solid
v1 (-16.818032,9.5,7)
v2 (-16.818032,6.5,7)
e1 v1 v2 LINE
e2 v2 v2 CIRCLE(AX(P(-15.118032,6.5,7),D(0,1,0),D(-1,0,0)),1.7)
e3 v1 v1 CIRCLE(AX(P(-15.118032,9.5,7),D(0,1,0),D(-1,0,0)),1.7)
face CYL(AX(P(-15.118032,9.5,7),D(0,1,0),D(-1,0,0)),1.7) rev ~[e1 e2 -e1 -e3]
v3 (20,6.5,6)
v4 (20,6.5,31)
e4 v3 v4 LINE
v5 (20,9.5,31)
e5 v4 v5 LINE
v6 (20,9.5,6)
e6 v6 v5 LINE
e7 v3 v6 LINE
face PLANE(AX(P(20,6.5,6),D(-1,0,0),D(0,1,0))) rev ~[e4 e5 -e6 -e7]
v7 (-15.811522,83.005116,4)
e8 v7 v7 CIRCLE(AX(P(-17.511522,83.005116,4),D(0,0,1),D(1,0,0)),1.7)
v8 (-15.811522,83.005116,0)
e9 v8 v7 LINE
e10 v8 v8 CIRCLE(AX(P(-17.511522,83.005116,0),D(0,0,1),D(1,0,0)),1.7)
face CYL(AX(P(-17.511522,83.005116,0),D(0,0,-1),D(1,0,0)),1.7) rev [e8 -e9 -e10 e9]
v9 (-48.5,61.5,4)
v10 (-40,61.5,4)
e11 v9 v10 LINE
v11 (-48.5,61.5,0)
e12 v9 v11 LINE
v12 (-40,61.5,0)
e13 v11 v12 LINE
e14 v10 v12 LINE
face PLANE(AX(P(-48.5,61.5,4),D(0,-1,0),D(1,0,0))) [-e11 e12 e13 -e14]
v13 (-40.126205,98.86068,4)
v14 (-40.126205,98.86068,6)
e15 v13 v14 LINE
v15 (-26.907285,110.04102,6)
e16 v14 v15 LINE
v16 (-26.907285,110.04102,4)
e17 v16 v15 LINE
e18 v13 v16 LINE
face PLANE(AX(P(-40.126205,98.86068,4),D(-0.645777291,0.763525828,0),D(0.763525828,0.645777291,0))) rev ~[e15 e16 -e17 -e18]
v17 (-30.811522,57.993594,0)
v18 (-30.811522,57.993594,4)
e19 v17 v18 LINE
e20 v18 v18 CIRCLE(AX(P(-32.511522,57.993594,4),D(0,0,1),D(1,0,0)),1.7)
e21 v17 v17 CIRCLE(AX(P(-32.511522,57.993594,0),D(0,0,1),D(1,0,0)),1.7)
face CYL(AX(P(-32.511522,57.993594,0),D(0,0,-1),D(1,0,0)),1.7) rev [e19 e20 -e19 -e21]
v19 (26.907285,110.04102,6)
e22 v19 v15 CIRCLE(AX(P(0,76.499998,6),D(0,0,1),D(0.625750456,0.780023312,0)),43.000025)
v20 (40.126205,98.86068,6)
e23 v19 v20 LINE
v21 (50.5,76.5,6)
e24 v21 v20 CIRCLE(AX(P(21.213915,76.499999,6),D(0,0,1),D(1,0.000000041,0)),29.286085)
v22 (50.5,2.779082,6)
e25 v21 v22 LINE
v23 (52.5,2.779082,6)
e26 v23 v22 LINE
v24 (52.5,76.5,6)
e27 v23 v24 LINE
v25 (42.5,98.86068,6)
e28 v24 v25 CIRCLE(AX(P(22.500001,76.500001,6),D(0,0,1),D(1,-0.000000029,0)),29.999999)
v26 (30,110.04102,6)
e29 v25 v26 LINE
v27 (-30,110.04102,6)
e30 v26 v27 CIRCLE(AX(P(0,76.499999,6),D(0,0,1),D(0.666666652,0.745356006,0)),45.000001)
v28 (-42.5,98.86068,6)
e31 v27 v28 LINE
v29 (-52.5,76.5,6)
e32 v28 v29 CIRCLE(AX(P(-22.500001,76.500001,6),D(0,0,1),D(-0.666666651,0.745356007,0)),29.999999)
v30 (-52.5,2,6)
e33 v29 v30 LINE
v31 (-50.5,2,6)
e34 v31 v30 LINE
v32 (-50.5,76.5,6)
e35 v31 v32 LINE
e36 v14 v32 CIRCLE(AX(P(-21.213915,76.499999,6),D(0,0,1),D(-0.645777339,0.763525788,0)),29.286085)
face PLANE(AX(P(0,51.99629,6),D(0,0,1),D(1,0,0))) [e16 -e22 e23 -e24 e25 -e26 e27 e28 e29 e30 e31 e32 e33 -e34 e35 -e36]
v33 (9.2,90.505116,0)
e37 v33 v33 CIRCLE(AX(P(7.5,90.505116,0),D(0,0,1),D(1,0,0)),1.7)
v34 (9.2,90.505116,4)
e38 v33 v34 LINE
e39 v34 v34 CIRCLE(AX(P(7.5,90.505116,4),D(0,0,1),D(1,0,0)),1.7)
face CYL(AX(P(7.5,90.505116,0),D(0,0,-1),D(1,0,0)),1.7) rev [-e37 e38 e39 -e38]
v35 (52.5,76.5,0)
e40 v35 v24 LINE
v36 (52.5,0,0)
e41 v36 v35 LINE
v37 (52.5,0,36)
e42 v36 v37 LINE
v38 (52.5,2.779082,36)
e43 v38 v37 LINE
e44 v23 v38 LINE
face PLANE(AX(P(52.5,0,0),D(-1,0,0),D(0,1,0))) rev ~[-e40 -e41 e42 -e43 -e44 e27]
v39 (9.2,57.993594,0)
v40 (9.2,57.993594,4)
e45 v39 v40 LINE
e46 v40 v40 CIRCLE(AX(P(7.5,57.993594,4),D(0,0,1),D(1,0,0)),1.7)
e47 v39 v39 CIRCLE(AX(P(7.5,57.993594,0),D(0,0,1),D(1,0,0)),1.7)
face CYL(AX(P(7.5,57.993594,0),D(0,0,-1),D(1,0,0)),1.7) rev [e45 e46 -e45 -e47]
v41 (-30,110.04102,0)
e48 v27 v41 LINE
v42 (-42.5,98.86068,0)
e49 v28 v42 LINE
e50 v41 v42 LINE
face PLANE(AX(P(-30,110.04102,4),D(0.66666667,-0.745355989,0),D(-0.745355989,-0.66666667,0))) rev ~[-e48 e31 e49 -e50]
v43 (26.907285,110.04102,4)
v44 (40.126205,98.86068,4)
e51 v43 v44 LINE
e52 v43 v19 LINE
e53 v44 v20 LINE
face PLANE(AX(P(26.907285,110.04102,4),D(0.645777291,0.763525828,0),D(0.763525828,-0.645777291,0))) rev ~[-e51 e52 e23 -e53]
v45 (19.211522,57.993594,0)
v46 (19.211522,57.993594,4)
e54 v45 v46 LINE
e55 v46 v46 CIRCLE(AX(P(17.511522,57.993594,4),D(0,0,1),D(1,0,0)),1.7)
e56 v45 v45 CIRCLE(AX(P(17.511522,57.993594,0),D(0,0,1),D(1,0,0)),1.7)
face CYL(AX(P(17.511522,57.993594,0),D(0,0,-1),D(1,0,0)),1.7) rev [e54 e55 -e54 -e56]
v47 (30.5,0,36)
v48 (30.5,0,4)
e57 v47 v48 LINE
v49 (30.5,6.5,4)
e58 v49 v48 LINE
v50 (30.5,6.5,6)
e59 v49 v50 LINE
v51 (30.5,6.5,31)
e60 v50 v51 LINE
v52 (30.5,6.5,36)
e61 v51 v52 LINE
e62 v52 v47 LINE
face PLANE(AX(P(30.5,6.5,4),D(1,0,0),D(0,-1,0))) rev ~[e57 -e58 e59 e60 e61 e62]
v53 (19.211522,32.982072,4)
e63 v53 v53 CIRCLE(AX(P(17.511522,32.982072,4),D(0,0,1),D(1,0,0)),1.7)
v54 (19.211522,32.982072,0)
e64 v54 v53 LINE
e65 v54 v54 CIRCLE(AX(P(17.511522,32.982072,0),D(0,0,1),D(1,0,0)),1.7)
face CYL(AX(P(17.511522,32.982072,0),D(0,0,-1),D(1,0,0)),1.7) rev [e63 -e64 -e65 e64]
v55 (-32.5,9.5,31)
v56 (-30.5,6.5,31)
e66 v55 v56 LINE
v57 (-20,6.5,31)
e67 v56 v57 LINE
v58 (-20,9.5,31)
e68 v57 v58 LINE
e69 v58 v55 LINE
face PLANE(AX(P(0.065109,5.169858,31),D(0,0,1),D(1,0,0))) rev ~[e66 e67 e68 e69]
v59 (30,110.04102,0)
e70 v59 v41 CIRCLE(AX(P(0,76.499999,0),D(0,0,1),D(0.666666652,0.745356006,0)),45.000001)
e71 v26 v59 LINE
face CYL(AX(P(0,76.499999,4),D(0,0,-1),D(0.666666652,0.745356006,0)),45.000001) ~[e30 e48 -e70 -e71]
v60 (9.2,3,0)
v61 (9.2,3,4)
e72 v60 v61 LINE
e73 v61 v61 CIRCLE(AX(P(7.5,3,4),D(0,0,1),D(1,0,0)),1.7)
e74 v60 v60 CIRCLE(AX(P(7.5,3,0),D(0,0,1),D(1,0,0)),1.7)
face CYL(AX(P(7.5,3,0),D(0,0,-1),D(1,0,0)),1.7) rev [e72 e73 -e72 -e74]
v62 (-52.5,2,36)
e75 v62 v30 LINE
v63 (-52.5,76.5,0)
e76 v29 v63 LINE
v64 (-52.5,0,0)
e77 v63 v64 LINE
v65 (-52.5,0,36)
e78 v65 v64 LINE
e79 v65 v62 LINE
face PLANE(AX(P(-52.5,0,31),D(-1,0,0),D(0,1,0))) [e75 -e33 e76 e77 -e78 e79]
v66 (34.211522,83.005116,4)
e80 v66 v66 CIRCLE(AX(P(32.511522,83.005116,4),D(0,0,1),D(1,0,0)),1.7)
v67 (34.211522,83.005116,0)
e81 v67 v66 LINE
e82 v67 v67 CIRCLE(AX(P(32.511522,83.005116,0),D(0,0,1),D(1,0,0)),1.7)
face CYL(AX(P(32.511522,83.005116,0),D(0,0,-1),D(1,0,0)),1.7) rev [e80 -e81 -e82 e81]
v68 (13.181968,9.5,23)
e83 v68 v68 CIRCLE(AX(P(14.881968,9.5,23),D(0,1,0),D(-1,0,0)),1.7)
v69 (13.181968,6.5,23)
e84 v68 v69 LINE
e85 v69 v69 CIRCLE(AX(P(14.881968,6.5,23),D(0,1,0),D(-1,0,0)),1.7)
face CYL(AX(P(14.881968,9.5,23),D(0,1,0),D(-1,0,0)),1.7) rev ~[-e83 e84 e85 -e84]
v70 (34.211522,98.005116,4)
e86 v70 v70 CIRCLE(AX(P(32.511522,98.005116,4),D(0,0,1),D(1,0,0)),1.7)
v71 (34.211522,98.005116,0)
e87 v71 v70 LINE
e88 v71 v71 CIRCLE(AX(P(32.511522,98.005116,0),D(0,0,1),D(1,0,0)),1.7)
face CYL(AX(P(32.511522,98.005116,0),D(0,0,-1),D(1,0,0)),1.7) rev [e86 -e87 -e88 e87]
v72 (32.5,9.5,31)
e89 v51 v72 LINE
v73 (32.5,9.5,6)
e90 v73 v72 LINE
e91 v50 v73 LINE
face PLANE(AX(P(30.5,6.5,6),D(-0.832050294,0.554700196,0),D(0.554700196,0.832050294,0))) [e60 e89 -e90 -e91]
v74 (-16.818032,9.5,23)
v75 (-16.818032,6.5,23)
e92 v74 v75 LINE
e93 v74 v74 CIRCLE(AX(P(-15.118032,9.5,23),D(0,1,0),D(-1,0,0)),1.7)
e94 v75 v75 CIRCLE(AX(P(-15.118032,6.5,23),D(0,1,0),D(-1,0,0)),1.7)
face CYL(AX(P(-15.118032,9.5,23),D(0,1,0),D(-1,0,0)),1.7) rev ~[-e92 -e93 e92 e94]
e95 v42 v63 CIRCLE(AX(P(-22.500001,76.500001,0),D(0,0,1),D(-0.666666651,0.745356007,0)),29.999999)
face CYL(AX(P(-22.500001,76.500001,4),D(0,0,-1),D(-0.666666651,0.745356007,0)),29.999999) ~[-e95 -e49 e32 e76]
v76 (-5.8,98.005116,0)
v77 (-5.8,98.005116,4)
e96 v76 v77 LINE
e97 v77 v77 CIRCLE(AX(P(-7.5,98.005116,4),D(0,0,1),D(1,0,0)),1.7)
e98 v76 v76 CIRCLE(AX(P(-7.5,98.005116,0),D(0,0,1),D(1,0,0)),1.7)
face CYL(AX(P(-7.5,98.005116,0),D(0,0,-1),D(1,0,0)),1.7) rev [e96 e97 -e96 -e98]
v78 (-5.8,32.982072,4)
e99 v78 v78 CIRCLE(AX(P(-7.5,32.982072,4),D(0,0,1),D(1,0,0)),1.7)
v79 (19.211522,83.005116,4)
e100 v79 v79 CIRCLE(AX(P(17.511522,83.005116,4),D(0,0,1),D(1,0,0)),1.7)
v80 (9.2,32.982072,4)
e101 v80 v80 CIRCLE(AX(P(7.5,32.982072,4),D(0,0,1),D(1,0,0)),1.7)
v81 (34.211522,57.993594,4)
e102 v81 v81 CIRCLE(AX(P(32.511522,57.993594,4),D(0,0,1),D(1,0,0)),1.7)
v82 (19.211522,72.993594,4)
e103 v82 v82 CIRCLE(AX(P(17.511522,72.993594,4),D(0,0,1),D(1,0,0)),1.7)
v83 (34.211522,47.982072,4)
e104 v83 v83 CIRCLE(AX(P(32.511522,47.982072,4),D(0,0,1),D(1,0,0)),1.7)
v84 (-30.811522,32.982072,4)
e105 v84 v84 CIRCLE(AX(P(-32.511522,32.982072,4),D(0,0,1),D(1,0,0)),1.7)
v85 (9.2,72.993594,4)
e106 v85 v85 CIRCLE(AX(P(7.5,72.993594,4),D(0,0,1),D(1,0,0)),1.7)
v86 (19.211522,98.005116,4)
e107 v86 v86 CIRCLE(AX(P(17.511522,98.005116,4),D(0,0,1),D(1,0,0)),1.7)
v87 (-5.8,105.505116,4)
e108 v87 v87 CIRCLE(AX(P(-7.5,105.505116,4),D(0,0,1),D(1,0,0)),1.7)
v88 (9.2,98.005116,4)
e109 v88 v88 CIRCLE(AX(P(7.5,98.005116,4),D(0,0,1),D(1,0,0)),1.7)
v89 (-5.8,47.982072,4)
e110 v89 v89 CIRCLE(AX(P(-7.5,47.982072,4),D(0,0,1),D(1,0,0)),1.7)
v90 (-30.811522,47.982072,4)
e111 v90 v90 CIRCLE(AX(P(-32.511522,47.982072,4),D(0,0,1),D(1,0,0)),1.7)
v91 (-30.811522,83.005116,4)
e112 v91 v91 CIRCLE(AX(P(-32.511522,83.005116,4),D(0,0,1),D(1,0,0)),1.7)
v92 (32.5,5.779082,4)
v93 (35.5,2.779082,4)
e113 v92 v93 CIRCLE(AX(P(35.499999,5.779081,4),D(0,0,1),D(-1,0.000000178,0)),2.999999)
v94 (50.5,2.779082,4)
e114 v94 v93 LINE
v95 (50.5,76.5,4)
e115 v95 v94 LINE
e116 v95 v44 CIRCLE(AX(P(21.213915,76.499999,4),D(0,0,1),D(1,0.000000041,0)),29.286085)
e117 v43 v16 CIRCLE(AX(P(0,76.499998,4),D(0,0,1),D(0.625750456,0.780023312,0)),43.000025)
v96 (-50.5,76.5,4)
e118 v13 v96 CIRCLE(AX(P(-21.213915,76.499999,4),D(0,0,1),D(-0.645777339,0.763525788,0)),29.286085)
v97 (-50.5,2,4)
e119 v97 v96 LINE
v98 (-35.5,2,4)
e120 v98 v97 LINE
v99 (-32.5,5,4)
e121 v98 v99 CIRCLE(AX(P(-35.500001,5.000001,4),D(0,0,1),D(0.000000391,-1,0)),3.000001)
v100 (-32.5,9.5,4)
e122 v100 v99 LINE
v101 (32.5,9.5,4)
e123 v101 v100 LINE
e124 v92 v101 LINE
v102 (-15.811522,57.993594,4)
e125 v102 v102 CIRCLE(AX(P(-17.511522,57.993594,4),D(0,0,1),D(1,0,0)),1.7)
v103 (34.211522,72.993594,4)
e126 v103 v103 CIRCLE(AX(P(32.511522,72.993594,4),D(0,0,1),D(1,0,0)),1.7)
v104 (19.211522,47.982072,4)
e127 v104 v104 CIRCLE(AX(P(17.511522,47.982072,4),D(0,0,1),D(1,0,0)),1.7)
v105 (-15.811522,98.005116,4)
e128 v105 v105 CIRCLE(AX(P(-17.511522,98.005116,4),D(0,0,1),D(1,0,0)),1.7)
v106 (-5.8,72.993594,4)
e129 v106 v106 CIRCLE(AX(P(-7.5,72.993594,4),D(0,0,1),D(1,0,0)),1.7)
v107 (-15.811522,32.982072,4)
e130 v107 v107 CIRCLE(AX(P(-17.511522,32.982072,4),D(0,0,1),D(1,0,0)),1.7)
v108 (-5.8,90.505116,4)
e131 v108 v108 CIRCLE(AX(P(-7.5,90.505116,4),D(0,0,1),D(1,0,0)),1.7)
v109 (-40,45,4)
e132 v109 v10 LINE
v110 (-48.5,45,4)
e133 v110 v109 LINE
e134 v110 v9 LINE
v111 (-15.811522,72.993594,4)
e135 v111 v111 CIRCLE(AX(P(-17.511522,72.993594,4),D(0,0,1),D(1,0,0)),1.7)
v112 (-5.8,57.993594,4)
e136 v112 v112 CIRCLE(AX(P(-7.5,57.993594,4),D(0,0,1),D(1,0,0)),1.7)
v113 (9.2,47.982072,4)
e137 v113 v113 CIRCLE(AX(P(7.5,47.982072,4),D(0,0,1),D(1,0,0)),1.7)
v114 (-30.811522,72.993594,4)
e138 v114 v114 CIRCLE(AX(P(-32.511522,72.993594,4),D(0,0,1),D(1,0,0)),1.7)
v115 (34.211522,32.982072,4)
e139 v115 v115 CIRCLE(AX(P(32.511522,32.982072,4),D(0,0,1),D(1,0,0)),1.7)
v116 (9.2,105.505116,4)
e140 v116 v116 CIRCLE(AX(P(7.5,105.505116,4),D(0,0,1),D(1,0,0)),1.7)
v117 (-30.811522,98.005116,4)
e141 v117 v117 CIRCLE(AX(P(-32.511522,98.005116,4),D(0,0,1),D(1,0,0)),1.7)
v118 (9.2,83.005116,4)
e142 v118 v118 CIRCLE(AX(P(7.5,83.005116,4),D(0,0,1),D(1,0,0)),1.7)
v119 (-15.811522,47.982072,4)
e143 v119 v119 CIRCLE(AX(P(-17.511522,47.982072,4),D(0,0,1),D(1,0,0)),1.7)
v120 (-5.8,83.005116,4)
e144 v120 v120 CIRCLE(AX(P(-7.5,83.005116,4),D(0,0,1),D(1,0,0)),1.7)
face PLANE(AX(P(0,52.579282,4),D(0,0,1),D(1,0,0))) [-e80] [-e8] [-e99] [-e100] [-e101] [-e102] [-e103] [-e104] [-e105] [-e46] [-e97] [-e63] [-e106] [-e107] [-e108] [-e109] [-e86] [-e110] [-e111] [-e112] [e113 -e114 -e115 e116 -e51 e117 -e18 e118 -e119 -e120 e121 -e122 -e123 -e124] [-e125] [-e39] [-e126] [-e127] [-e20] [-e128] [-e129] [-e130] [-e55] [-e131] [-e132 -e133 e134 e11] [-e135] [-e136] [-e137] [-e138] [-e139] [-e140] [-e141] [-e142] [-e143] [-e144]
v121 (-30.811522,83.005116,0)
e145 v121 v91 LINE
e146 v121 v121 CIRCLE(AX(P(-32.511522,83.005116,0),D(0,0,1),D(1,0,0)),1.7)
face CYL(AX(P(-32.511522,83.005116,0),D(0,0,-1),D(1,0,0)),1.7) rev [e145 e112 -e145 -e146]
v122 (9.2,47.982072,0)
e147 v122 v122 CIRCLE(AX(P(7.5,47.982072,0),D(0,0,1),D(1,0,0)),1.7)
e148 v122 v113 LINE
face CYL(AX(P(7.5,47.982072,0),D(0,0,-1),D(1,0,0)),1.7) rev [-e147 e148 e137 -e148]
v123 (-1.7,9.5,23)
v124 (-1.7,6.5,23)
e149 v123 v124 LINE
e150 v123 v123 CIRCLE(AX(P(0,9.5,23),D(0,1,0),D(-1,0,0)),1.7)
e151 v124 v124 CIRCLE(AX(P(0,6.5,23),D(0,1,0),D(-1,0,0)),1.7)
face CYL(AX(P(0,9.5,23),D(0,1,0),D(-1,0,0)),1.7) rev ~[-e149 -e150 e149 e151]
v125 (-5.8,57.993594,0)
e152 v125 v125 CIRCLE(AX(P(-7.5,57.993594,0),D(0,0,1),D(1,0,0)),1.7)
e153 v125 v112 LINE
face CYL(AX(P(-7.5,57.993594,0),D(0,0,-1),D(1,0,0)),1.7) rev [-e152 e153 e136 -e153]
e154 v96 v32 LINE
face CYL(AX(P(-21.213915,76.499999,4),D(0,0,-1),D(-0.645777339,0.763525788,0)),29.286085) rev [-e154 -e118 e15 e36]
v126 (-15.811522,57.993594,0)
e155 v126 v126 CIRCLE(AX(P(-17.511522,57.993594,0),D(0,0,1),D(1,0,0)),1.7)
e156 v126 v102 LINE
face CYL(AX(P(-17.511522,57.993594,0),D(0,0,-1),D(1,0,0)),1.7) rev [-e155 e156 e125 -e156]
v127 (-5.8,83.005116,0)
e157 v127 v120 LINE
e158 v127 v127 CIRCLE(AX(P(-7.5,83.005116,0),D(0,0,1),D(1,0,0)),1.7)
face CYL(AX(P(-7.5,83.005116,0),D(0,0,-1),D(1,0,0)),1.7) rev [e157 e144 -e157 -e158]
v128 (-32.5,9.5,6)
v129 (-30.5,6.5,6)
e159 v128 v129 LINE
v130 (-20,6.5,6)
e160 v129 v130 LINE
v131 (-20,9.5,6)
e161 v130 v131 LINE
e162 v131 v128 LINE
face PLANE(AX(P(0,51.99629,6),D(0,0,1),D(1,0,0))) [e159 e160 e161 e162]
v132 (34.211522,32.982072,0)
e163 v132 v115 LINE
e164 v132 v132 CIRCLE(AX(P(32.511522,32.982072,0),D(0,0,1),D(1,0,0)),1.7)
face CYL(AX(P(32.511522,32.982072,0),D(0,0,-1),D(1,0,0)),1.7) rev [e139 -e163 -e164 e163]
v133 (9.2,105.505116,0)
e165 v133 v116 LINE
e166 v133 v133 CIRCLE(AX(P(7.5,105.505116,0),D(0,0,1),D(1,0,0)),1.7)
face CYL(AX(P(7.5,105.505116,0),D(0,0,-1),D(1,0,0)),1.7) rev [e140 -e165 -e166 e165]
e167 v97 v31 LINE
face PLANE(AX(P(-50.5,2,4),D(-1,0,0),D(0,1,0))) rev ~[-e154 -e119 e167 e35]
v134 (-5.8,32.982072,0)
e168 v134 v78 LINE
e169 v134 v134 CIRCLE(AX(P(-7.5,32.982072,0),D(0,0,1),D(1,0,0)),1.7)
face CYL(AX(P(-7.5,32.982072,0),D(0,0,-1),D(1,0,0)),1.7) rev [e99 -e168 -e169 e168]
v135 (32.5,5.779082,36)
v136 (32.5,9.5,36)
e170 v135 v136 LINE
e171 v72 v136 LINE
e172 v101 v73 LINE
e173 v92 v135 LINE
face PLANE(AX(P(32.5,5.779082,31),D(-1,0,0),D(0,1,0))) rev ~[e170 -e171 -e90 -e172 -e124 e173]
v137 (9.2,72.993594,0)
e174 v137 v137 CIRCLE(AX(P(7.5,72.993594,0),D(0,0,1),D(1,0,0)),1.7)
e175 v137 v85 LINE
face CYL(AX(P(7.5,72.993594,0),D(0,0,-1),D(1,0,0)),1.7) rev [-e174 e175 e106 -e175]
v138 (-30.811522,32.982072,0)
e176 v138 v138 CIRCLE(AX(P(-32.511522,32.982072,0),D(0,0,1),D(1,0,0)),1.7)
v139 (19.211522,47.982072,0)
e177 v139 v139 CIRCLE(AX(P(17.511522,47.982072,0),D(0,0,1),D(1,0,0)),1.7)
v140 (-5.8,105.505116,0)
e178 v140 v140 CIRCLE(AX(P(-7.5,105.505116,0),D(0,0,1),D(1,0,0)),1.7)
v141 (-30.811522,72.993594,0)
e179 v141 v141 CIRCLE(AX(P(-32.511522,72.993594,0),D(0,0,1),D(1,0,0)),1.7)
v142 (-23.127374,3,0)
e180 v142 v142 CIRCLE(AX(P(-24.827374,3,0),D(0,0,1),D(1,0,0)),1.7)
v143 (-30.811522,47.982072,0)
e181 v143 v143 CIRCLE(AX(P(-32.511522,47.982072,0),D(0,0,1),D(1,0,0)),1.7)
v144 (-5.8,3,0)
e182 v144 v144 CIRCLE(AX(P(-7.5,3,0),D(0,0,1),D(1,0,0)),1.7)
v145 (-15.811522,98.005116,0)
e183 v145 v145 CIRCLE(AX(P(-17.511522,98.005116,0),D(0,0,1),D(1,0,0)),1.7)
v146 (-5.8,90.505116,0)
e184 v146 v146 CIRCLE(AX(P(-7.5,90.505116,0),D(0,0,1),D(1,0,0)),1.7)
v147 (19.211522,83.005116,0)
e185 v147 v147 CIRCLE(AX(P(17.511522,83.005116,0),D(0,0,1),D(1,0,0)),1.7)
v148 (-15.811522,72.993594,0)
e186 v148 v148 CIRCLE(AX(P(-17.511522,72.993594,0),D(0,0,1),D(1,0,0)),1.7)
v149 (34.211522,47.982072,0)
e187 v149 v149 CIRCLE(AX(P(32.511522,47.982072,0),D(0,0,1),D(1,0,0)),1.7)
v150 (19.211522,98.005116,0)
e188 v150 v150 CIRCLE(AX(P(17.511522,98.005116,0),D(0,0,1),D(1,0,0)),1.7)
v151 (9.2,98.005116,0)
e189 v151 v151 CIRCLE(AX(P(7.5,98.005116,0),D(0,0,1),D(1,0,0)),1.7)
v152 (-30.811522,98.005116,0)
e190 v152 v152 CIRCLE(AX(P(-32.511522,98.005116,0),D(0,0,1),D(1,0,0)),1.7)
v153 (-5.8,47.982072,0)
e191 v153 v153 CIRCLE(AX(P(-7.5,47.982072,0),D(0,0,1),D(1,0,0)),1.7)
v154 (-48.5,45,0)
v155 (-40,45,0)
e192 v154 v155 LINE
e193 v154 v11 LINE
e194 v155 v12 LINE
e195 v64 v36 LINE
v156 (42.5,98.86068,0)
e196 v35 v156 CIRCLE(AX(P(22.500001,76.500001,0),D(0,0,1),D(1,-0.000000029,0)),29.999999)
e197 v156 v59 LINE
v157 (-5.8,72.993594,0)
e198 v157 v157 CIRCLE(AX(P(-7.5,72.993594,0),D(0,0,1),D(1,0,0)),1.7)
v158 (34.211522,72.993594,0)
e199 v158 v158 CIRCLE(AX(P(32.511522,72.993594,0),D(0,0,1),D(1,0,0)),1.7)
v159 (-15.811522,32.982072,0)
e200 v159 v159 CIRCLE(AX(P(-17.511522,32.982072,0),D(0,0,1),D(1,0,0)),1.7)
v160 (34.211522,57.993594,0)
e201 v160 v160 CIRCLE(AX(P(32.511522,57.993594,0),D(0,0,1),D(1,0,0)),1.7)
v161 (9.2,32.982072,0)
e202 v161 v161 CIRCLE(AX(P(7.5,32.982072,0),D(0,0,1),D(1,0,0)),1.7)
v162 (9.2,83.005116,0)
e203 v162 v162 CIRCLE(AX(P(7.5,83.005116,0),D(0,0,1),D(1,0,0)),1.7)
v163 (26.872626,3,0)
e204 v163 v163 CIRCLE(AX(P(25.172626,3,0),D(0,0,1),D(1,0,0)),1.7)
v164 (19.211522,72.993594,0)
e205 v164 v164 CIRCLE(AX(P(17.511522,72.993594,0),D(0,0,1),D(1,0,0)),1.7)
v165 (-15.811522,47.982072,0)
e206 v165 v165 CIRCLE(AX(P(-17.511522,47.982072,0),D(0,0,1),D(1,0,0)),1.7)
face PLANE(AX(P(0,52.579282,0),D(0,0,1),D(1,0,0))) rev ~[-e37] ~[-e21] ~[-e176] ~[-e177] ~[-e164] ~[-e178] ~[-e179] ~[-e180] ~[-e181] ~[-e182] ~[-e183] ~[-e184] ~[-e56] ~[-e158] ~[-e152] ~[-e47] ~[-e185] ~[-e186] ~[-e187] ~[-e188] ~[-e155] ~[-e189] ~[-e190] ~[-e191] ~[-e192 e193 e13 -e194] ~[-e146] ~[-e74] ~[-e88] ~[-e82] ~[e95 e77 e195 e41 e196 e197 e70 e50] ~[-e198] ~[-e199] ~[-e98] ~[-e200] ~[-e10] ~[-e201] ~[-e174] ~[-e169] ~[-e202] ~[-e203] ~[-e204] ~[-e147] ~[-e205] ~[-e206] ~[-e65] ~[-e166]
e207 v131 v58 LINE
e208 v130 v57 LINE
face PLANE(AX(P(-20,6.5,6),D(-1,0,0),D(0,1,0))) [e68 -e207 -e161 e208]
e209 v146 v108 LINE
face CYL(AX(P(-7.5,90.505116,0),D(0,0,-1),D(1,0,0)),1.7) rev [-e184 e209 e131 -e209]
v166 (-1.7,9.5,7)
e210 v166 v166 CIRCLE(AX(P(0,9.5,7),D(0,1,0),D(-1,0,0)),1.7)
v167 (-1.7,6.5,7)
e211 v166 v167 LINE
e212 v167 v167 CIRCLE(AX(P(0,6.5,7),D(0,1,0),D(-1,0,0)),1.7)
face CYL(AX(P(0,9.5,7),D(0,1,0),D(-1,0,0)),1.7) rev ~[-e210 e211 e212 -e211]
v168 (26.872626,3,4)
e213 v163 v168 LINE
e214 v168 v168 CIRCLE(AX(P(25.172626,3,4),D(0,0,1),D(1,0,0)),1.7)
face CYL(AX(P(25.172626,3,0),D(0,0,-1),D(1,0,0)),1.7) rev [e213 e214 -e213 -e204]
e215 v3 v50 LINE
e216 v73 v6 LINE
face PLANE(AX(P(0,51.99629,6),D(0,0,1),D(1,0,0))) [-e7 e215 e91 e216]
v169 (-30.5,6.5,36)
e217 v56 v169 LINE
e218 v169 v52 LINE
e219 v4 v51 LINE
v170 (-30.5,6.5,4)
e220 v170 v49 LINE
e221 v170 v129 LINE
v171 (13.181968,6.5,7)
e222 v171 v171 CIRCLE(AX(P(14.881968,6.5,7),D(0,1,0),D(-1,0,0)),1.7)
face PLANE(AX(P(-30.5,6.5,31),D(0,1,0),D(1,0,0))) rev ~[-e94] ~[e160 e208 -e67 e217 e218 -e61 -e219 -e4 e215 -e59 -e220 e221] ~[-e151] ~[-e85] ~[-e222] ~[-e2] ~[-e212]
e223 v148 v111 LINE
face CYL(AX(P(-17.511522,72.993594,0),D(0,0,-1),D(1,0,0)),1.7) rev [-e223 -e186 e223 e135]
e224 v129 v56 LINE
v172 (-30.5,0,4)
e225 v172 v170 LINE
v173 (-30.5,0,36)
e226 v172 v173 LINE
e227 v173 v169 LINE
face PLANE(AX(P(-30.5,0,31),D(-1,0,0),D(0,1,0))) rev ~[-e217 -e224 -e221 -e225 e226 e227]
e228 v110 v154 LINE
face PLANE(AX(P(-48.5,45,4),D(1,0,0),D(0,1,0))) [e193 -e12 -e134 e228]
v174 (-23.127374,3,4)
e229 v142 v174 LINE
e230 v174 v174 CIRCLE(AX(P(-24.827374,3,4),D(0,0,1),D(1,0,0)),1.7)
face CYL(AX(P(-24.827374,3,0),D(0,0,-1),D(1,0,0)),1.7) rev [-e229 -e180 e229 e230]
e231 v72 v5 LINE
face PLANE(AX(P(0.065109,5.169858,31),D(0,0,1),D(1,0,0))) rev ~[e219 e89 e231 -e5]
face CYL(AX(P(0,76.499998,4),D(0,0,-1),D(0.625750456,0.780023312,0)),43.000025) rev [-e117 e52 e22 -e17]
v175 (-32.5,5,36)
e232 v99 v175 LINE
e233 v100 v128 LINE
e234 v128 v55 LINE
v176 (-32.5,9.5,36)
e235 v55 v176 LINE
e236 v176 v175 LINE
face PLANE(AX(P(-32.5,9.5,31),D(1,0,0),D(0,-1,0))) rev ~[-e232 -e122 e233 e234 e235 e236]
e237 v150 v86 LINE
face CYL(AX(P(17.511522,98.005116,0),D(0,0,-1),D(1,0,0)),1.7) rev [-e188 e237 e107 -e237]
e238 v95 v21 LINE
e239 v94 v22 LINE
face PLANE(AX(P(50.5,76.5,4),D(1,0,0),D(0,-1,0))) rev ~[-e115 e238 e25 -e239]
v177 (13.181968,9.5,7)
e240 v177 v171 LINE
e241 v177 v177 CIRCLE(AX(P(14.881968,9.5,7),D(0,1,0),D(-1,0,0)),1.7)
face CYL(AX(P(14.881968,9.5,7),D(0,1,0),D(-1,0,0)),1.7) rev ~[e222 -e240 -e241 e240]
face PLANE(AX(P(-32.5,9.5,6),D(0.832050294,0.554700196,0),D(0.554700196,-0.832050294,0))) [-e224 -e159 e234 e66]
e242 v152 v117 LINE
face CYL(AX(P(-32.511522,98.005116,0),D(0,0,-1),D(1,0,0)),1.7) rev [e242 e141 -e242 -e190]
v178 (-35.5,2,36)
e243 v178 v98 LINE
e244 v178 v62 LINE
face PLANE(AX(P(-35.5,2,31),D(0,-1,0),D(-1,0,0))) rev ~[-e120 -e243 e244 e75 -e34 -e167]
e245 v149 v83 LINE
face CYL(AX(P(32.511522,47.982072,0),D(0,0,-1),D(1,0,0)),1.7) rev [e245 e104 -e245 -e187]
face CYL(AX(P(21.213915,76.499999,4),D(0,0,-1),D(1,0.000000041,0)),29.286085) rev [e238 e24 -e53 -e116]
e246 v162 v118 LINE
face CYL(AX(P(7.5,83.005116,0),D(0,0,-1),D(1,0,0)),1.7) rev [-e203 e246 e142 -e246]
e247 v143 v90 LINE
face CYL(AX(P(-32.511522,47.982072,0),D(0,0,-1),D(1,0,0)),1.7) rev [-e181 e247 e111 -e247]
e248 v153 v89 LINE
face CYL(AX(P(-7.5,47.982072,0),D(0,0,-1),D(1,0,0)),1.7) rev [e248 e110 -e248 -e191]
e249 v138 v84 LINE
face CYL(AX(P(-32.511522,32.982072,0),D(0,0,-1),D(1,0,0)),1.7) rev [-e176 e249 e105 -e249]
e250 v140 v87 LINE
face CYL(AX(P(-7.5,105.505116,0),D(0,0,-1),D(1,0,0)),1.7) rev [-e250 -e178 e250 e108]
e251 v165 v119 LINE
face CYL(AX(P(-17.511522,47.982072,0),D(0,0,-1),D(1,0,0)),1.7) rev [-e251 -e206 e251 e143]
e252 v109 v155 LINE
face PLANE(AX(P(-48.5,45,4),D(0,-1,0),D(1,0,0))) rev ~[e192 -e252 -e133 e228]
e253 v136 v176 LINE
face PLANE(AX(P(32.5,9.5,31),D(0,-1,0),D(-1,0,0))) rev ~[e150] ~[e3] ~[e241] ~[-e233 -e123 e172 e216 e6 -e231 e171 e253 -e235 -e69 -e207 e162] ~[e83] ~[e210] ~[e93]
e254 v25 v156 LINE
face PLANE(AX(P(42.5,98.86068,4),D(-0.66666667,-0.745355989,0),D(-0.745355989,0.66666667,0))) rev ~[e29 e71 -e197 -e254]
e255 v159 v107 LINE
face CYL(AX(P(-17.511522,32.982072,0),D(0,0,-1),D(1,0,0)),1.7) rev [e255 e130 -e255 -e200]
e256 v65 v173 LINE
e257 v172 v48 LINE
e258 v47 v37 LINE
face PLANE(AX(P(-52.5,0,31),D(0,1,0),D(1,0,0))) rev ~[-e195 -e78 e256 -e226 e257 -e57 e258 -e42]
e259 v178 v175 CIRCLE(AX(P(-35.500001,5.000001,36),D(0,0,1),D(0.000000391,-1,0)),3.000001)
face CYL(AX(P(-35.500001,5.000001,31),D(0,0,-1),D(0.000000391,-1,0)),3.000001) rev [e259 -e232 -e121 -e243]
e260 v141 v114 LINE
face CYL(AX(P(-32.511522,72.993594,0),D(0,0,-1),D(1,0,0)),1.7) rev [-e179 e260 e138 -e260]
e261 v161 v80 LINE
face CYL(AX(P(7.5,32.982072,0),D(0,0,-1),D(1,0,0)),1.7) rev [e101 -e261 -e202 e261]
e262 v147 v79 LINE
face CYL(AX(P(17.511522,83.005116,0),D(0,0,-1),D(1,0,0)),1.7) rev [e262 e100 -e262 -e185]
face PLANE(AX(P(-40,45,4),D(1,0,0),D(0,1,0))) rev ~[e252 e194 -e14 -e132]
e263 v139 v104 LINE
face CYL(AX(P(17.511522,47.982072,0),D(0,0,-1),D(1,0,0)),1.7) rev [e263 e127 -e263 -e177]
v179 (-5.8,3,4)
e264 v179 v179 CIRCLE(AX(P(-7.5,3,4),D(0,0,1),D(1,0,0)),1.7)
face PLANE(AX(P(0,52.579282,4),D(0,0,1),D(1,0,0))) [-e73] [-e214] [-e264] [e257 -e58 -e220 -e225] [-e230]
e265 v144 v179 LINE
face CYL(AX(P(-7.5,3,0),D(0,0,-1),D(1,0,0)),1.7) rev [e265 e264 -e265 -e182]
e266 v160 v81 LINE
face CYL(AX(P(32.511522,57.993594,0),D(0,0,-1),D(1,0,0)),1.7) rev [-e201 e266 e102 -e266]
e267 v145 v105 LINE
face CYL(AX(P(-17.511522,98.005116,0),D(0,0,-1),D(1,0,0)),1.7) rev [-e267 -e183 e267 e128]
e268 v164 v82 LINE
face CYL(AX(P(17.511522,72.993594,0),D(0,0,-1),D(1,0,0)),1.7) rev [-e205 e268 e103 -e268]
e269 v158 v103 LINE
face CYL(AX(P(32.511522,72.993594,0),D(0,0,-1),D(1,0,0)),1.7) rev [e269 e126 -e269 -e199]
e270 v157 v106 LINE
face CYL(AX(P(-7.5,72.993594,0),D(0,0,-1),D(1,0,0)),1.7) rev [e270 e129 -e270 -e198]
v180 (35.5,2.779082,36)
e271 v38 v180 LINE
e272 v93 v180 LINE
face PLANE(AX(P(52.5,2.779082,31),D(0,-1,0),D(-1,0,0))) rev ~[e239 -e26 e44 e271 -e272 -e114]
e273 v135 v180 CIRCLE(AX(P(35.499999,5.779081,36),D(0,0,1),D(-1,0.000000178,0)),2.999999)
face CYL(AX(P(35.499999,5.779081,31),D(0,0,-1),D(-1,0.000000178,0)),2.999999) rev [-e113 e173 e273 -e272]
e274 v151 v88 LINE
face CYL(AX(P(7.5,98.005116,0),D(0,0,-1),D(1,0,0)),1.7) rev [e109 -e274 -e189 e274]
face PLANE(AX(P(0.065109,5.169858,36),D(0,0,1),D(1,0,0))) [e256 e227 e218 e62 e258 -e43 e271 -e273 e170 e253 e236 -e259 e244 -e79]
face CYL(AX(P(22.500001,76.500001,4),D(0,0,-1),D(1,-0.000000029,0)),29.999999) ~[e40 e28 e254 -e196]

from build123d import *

# Parameters (mm, degrees)
SKETCH023_R     = 1.7
PAD004_DEPTH    = 4
PAD005_DEPTH    = 2
SKETCH025_W     = 40
SKETCH025_H     = 3
PAD006_DEPTH    = 25
PAD007_DEPTH    = 5
SKETCH027_R     = 1.7
POCKET018_DEPTH = 10
SKETCH033_W     = 8.5
SKETCH033_H     = 16.5
POCKET021_DEPTH = 5


with BuildPart() as part:
    # Sketch023 → Pad004 (new body)
    with BuildSketch(Plane.XY):
        with BuildLine():
            Line((-52.5, 0), (-30.5, 0))
            Line((-30.5, 0), (30.5, 0))
            Line((30.5, 0), (52.5, 0))
            Line((52.5, 0), (52.5, 76.5))
            ThreePointArc((52.5, 76.5), (49.886128, 88.747449), (42.5, 98.86068))
            Line((42.5, 98.86068), (30, 110.04102))
            ThreePointArc((30, 110.04102), (0, 121.5), (-30, 110.04102))
            Line((-30, 110.04102), (-42.5, 98.86068))
            ThreePointArc((-42.5, 98.86068), (-49.886128, 88.747449), (-52.5, 76.5))
            Line((-52.5, 76.5), (-52.5, 0))
        make_face()
        with Locations((17.511522, 32.982072)):
            Circle(SKETCH023_R, mode=Mode.SUBTRACT)
        with Locations((17.511522, 47.982072)):
            Circle(SKETCH023_R, mode=Mode.SUBTRACT)
        with Locations((32.511522, 47.982072)):
            Circle(SKETCH023_R, mode=Mode.SUBTRACT)
        with Locations((32.511522, 32.982072)):
            Circle(SKETCH023_R, mode=Mode.SUBTRACT)
        with Locations((-7.5, 32.982072)):
            Circle(SKETCH023_R, mode=Mode.SUBTRACT)
        with Locations((-7.5, 47.982072)):
            Circle(SKETCH023_R, mode=Mode.SUBTRACT)
        with Locations((7.5, 47.982072)):
            Circle(SKETCH023_R, mode=Mode.SUBTRACT)
        with Locations((7.5, 32.982072)):
            Circle(SKETCH023_R, mode=Mode.SUBTRACT)
        with Locations((-32.511522, 32.982072)):
            Circle(SKETCH023_R, mode=Mode.SUBTRACT)
        with Locations((-32.511522, 47.982072)):
            Circle(SKETCH023_R, mode=Mode.SUBTRACT)
        with Locations((-17.511522, 47.982072)):
            Circle(SKETCH023_R, mode=Mode.SUBTRACT)
        with Locations((-17.511522, 32.982072)):
            Circle(SKETCH023_R, mode=Mode.SUBTRACT)
        with Locations((17.511522, 57.993594)):
            Circle(SKETCH023_R, mode=Mode.SUBTRACT)
        with Locations((17.511522, 72.993594)):
            Circle(SKETCH023_R, mode=Mode.SUBTRACT)
        with Locations((32.511522, 72.993594)):
            Circle(SKETCH023_R, mode=Mode.SUBTRACT)
        with Locations((32.511522, 57.993594)):
            Circle(SKETCH023_R, mode=Mode.SUBTRACT)
        with Locations((-7.5, 57.993594)):
            Circle(SKETCH023_R, mode=Mode.SUBTRACT)
        with Locations((-7.5, 72.993594)):
            Circle(SKETCH023_R, mode=Mode.SUBTRACT)
        with Locations((7.5, 72.993594)):
            Circle(SKETCH023_R, mode=Mode.SUBTRACT)
        with Locations((7.5, 57.993594)):
            Circle(SKETCH023_R, mode=Mode.SUBTRACT)
        with Locations((-32.511522, 57.993594)):
            Circle(SKETCH023_R, mode=Mode.SUBTRACT)
        with Locations((-32.511522, 72.993594)):
            Circle(SKETCH023_R, mode=Mode.SUBTRACT)
        with Locations((-17.511522, 72.993594)):
            Circle(SKETCH023_R, mode=Mode.SUBTRACT)
        with Locations((-17.511522, 57.993594)):
            Circle(SKETCH023_R, mode=Mode.SUBTRACT)
        with Locations((17.511522, 83.005116)):
            Circle(SKETCH023_R, mode=Mode.SUBTRACT)
        with Locations((17.511522, 98.005116)):
            Circle(SKETCH023_R, mode=Mode.SUBTRACT)
        with Locations((32.511522, 98.005116)):
            Circle(SKETCH023_R, mode=Mode.SUBTRACT)
        with Locations((32.511522, 83.005116)):
            Circle(SKETCH023_R, mode=Mode.SUBTRACT)
        with Locations((-7.5, 83.005116)):
            Circle(SKETCH023_R, mode=Mode.SUBTRACT)
        with Locations((-7.5, 98.005116)):
            Circle(SKETCH023_R, mode=Mode.SUBTRACT)
        with Locations((7.5, 98.005116)):
            Circle(SKETCH023_R, mode=Mode.SUBTRACT)
        with Locations((7.5, 83.005116)):
            Circle(SKETCH023_R, mode=Mode.SUBTRACT)
        with Locations((-32.511522, 83.005116)):
            Circle(SKETCH023_R, mode=Mode.SUBTRACT)
        with Locations((-32.511522, 98.005116)):
            Circle(SKETCH023_R, mode=Mode.SUBTRACT)
        with Locations((-17.511522, 98.005116)):
            Circle(SKETCH023_R, mode=Mode.SUBTRACT)
        with Locations((-17.511522, 83.005116)):
            Circle(SKETCH023_R, mode=Mode.SUBTRACT)
        with Locations((-7.5, 90.505116)):
            Circle(SKETCH023_R, mode=Mode.SUBTRACT)
        with Locations((-7.5, 105.505116)):
            Circle(SKETCH023_R, mode=Mode.SUBTRACT)
        with Locations((7.5, 105.505116)):
            Circle(SKETCH023_R, mode=Mode.SUBTRACT)
        with Locations((7.5, 90.505116)):
            Circle(SKETCH023_R, mode=Mode.SUBTRACT)
        with Locations((-24.827374, 3)):
            Circle(SKETCH023_R, mode=Mode.SUBTRACT)
        with Locations((-7.5, 3)):
            Circle(SKETCH023_R, mode=Mode.SUBTRACT)
        with Locations((7.5, 3)):
            Circle(SKETCH023_R, mode=Mode.SUBTRACT)
        with Locations((25.172626, 3)):
            Circle(SKETCH023_R, mode=Mode.SUBTRACT)
    extrude(amount=PAD004_DEPTH)

    # Sketch024 (on Face56 of Pad004) → Pad005 (join)
    with BuildSketch(Plane.XY.offset(4)):
        with BuildLine():
            Line((-52.5, 0), (-30.5, 0))
            Line((-30.5, 0), (-30.5, 6.5))
            Line((-30.5, 6.5), (30.5, 6.5))
            Line((30.5, 6.5), (30.5, 0))
            Line((30.5, 0), (52.5, 0))
            Line((52.5, 0), (52.5, 76.5))
            ThreePointArc((52.5, 76.5), (49.886128, 88.747449), (42.5, 98.86068))
            Line((42.5, 98.86068), (30, 110.04102))
            ThreePointArc((30, 110.04102), (0, 121.5), (-30, 110.04102))
            Line((-30, 110.04102), (-42.5, 98.86068))
            ThreePointArc((-42.5, 98.86068), (-49.886128, 88.747449), (-52.5, 76.5))
            Line((-52.5, 76.5), (-52.5, 0))
        make_face()
        with BuildLine():
            Line((-50.5, 2), (-50.5, 76.5))
            ThreePointArc((-40.126205, 98.86068), (-47.780263, 88.82493), (-50.5, 76.5))
            Line((-40.126205, 98.86068), (-26.907285, 110.04102))
            ThreePointArc((26.907285, 110.04102), (0, 119.500023), (-26.907285, 110.04102))
            Line((26.907285, 110.04102), (40.126205, 98.86068))
            ThreePointArc((50.5, 76.5), (47.780263, 88.82493), (40.126205, 98.86068))
            Line((50.5, 76.5), (50.5, 2.779082))
            Line((50.5, 2.779082), (35.5, 2.779082))
            ThreePointArc((32.5, 5.779082), (33.37868, 3.657761), (35.5, 2.779082))
            Line((32.5, 5.779082), (32.5, 9.5))
            Line((32.5, 9.5), (-32.5, 9.5))
            Line((-32.5, 9.5), (-32.5, 5))
            ThreePointArc((-35.5, 2), (-33.37868, 2.87868), (-32.5, 5))
            Line((-35.5, 2), (-50.5, 2))
        make_face(mode=Mode.SUBTRACT)
    extrude(amount=PAD005_DEPTH)

    # Sketch025 (on Face60 of Pad005) → Pad006 (join)
    with BuildSketch(Plane.XY.offset(6)):
        with BuildLine():
            Line((-52.5, 0), (-30.5, 0))
            Line((-30.5, 0), (-30.5, 6.5))
            Line((-32.5, 9.5), (-30.5, 6.5))
            Line((-32.5, 9.5), (-32.5, 5))
            ThreePointArc((-35.5, 2), (-33.37868, 2.87868), (-32.5, 5))
            Line((-35.5, 2), (-50.5, 2))
            Line((-50.5, 2), (-52.5, 2))
            Line((-52.5, 2), (-52.5, 0))
        make_face()
        with Locations((0, 8)):
            Rectangle(SKETCH025_W, SKETCH025_H)
        with BuildLine():
            Line((30.5, 6.5), (30.5, 0))
            Line((30.5, 0), (52.5, 0))
            Line((52.5, 2.779082), (52.5, 0))
            Line((50.5, 2.779082), (52.5, 2.779082))
            Line((50.5, 2.779082), (35.5, 2.779082))
            ThreePointArc((32.5, 5.779082), (33.37868, 3.657761), (35.5, 2.779082))
            Line((32.5, 5.779082), (32.5, 9.5))
            Line((30.5, 6.5), (32.5, 9.5))
        make_face()
    extrude(amount=PAD006_DEPTH)

    # Sketch026 (on Face102 of Pad006) → Pad007 (join)
    with BuildSketch(Plane.XY.offset(31)):
        with BuildLine():
            Line((-52.5, 0), (-30.5, 0))
            Line((-30.5, 0), (-30.5, 6.5))
            Line((-30.5, 6.5), (30.5, 6.5))
            Line((30.5, 6.5), (30.5, 0))
            Line((30.5, 0), (52.5, 0))
            Line((52.5, 2.779082), (52.5, 0))
            Line((50.5, 2.779082), (52.5, 2.779082))
            Line((50.5, 2.779082), (35.5, 2.779082))
            ThreePointArc((32.5, 5.779082), (33.37868, 3.657761), (35.5, 2.779082))
            Line((32.5, 5.779082), (32.5, 9.5))
            Line((32.5, 9.5), (-32.5, 9.5))
            Line((-32.5, 9.5), (-32.5, 5))
            ThreePointArc((-35.5, 2), (-33.37868, 2.87868), (-32.5, 5))
            Line((-35.5, 2), (-50.5, 2))
            Line((-52.5, 2), (-50.5, 2))
            Line((-52.5, 0), (-52.5, 2))
        make_face()
    extrude(amount=PAD007_DEPTH)

    # Sketch027 (on Face114 of Pad007) → Pocket018 (cut)
    with BuildSketch(Plane(origin=(0, 9.5, 0), x_dir=(-1, 0, 0), z_dir=(0, 1, 0))):
        with Locations((-14.881968, 23)):
            Circle(SKETCH027_R)
        with Locations((0, 23)):
            Circle(SKETCH027_R)
        with Locations((15.118032, 23)):
            Circle(SKETCH027_R)
        with Locations((15.118032, 7)):
            Circle(SKETCH027_R)
        with Locations((0, 7)):
            Circle(SKETCH027_R)
        with Locations((-14.881968, 7)):
            Circle(SKETCH027_R)
    extrude(amount=-POCKET018_DEPTH, mode=Mode.SUBTRACT)

    # Sketch033 (on Face72 of Pocket018) → Pocket021 (cut)
    with BuildSketch(Plane.XY.offset(4)):
        with Locations((-44.25, 53.25)):
            Rectangle(SKETCH033_W, SKETCH033_H)
    extrude(amount=-POCKET021_DEPTH, mode=Mode.SUBTRACT)


solid = part.part
